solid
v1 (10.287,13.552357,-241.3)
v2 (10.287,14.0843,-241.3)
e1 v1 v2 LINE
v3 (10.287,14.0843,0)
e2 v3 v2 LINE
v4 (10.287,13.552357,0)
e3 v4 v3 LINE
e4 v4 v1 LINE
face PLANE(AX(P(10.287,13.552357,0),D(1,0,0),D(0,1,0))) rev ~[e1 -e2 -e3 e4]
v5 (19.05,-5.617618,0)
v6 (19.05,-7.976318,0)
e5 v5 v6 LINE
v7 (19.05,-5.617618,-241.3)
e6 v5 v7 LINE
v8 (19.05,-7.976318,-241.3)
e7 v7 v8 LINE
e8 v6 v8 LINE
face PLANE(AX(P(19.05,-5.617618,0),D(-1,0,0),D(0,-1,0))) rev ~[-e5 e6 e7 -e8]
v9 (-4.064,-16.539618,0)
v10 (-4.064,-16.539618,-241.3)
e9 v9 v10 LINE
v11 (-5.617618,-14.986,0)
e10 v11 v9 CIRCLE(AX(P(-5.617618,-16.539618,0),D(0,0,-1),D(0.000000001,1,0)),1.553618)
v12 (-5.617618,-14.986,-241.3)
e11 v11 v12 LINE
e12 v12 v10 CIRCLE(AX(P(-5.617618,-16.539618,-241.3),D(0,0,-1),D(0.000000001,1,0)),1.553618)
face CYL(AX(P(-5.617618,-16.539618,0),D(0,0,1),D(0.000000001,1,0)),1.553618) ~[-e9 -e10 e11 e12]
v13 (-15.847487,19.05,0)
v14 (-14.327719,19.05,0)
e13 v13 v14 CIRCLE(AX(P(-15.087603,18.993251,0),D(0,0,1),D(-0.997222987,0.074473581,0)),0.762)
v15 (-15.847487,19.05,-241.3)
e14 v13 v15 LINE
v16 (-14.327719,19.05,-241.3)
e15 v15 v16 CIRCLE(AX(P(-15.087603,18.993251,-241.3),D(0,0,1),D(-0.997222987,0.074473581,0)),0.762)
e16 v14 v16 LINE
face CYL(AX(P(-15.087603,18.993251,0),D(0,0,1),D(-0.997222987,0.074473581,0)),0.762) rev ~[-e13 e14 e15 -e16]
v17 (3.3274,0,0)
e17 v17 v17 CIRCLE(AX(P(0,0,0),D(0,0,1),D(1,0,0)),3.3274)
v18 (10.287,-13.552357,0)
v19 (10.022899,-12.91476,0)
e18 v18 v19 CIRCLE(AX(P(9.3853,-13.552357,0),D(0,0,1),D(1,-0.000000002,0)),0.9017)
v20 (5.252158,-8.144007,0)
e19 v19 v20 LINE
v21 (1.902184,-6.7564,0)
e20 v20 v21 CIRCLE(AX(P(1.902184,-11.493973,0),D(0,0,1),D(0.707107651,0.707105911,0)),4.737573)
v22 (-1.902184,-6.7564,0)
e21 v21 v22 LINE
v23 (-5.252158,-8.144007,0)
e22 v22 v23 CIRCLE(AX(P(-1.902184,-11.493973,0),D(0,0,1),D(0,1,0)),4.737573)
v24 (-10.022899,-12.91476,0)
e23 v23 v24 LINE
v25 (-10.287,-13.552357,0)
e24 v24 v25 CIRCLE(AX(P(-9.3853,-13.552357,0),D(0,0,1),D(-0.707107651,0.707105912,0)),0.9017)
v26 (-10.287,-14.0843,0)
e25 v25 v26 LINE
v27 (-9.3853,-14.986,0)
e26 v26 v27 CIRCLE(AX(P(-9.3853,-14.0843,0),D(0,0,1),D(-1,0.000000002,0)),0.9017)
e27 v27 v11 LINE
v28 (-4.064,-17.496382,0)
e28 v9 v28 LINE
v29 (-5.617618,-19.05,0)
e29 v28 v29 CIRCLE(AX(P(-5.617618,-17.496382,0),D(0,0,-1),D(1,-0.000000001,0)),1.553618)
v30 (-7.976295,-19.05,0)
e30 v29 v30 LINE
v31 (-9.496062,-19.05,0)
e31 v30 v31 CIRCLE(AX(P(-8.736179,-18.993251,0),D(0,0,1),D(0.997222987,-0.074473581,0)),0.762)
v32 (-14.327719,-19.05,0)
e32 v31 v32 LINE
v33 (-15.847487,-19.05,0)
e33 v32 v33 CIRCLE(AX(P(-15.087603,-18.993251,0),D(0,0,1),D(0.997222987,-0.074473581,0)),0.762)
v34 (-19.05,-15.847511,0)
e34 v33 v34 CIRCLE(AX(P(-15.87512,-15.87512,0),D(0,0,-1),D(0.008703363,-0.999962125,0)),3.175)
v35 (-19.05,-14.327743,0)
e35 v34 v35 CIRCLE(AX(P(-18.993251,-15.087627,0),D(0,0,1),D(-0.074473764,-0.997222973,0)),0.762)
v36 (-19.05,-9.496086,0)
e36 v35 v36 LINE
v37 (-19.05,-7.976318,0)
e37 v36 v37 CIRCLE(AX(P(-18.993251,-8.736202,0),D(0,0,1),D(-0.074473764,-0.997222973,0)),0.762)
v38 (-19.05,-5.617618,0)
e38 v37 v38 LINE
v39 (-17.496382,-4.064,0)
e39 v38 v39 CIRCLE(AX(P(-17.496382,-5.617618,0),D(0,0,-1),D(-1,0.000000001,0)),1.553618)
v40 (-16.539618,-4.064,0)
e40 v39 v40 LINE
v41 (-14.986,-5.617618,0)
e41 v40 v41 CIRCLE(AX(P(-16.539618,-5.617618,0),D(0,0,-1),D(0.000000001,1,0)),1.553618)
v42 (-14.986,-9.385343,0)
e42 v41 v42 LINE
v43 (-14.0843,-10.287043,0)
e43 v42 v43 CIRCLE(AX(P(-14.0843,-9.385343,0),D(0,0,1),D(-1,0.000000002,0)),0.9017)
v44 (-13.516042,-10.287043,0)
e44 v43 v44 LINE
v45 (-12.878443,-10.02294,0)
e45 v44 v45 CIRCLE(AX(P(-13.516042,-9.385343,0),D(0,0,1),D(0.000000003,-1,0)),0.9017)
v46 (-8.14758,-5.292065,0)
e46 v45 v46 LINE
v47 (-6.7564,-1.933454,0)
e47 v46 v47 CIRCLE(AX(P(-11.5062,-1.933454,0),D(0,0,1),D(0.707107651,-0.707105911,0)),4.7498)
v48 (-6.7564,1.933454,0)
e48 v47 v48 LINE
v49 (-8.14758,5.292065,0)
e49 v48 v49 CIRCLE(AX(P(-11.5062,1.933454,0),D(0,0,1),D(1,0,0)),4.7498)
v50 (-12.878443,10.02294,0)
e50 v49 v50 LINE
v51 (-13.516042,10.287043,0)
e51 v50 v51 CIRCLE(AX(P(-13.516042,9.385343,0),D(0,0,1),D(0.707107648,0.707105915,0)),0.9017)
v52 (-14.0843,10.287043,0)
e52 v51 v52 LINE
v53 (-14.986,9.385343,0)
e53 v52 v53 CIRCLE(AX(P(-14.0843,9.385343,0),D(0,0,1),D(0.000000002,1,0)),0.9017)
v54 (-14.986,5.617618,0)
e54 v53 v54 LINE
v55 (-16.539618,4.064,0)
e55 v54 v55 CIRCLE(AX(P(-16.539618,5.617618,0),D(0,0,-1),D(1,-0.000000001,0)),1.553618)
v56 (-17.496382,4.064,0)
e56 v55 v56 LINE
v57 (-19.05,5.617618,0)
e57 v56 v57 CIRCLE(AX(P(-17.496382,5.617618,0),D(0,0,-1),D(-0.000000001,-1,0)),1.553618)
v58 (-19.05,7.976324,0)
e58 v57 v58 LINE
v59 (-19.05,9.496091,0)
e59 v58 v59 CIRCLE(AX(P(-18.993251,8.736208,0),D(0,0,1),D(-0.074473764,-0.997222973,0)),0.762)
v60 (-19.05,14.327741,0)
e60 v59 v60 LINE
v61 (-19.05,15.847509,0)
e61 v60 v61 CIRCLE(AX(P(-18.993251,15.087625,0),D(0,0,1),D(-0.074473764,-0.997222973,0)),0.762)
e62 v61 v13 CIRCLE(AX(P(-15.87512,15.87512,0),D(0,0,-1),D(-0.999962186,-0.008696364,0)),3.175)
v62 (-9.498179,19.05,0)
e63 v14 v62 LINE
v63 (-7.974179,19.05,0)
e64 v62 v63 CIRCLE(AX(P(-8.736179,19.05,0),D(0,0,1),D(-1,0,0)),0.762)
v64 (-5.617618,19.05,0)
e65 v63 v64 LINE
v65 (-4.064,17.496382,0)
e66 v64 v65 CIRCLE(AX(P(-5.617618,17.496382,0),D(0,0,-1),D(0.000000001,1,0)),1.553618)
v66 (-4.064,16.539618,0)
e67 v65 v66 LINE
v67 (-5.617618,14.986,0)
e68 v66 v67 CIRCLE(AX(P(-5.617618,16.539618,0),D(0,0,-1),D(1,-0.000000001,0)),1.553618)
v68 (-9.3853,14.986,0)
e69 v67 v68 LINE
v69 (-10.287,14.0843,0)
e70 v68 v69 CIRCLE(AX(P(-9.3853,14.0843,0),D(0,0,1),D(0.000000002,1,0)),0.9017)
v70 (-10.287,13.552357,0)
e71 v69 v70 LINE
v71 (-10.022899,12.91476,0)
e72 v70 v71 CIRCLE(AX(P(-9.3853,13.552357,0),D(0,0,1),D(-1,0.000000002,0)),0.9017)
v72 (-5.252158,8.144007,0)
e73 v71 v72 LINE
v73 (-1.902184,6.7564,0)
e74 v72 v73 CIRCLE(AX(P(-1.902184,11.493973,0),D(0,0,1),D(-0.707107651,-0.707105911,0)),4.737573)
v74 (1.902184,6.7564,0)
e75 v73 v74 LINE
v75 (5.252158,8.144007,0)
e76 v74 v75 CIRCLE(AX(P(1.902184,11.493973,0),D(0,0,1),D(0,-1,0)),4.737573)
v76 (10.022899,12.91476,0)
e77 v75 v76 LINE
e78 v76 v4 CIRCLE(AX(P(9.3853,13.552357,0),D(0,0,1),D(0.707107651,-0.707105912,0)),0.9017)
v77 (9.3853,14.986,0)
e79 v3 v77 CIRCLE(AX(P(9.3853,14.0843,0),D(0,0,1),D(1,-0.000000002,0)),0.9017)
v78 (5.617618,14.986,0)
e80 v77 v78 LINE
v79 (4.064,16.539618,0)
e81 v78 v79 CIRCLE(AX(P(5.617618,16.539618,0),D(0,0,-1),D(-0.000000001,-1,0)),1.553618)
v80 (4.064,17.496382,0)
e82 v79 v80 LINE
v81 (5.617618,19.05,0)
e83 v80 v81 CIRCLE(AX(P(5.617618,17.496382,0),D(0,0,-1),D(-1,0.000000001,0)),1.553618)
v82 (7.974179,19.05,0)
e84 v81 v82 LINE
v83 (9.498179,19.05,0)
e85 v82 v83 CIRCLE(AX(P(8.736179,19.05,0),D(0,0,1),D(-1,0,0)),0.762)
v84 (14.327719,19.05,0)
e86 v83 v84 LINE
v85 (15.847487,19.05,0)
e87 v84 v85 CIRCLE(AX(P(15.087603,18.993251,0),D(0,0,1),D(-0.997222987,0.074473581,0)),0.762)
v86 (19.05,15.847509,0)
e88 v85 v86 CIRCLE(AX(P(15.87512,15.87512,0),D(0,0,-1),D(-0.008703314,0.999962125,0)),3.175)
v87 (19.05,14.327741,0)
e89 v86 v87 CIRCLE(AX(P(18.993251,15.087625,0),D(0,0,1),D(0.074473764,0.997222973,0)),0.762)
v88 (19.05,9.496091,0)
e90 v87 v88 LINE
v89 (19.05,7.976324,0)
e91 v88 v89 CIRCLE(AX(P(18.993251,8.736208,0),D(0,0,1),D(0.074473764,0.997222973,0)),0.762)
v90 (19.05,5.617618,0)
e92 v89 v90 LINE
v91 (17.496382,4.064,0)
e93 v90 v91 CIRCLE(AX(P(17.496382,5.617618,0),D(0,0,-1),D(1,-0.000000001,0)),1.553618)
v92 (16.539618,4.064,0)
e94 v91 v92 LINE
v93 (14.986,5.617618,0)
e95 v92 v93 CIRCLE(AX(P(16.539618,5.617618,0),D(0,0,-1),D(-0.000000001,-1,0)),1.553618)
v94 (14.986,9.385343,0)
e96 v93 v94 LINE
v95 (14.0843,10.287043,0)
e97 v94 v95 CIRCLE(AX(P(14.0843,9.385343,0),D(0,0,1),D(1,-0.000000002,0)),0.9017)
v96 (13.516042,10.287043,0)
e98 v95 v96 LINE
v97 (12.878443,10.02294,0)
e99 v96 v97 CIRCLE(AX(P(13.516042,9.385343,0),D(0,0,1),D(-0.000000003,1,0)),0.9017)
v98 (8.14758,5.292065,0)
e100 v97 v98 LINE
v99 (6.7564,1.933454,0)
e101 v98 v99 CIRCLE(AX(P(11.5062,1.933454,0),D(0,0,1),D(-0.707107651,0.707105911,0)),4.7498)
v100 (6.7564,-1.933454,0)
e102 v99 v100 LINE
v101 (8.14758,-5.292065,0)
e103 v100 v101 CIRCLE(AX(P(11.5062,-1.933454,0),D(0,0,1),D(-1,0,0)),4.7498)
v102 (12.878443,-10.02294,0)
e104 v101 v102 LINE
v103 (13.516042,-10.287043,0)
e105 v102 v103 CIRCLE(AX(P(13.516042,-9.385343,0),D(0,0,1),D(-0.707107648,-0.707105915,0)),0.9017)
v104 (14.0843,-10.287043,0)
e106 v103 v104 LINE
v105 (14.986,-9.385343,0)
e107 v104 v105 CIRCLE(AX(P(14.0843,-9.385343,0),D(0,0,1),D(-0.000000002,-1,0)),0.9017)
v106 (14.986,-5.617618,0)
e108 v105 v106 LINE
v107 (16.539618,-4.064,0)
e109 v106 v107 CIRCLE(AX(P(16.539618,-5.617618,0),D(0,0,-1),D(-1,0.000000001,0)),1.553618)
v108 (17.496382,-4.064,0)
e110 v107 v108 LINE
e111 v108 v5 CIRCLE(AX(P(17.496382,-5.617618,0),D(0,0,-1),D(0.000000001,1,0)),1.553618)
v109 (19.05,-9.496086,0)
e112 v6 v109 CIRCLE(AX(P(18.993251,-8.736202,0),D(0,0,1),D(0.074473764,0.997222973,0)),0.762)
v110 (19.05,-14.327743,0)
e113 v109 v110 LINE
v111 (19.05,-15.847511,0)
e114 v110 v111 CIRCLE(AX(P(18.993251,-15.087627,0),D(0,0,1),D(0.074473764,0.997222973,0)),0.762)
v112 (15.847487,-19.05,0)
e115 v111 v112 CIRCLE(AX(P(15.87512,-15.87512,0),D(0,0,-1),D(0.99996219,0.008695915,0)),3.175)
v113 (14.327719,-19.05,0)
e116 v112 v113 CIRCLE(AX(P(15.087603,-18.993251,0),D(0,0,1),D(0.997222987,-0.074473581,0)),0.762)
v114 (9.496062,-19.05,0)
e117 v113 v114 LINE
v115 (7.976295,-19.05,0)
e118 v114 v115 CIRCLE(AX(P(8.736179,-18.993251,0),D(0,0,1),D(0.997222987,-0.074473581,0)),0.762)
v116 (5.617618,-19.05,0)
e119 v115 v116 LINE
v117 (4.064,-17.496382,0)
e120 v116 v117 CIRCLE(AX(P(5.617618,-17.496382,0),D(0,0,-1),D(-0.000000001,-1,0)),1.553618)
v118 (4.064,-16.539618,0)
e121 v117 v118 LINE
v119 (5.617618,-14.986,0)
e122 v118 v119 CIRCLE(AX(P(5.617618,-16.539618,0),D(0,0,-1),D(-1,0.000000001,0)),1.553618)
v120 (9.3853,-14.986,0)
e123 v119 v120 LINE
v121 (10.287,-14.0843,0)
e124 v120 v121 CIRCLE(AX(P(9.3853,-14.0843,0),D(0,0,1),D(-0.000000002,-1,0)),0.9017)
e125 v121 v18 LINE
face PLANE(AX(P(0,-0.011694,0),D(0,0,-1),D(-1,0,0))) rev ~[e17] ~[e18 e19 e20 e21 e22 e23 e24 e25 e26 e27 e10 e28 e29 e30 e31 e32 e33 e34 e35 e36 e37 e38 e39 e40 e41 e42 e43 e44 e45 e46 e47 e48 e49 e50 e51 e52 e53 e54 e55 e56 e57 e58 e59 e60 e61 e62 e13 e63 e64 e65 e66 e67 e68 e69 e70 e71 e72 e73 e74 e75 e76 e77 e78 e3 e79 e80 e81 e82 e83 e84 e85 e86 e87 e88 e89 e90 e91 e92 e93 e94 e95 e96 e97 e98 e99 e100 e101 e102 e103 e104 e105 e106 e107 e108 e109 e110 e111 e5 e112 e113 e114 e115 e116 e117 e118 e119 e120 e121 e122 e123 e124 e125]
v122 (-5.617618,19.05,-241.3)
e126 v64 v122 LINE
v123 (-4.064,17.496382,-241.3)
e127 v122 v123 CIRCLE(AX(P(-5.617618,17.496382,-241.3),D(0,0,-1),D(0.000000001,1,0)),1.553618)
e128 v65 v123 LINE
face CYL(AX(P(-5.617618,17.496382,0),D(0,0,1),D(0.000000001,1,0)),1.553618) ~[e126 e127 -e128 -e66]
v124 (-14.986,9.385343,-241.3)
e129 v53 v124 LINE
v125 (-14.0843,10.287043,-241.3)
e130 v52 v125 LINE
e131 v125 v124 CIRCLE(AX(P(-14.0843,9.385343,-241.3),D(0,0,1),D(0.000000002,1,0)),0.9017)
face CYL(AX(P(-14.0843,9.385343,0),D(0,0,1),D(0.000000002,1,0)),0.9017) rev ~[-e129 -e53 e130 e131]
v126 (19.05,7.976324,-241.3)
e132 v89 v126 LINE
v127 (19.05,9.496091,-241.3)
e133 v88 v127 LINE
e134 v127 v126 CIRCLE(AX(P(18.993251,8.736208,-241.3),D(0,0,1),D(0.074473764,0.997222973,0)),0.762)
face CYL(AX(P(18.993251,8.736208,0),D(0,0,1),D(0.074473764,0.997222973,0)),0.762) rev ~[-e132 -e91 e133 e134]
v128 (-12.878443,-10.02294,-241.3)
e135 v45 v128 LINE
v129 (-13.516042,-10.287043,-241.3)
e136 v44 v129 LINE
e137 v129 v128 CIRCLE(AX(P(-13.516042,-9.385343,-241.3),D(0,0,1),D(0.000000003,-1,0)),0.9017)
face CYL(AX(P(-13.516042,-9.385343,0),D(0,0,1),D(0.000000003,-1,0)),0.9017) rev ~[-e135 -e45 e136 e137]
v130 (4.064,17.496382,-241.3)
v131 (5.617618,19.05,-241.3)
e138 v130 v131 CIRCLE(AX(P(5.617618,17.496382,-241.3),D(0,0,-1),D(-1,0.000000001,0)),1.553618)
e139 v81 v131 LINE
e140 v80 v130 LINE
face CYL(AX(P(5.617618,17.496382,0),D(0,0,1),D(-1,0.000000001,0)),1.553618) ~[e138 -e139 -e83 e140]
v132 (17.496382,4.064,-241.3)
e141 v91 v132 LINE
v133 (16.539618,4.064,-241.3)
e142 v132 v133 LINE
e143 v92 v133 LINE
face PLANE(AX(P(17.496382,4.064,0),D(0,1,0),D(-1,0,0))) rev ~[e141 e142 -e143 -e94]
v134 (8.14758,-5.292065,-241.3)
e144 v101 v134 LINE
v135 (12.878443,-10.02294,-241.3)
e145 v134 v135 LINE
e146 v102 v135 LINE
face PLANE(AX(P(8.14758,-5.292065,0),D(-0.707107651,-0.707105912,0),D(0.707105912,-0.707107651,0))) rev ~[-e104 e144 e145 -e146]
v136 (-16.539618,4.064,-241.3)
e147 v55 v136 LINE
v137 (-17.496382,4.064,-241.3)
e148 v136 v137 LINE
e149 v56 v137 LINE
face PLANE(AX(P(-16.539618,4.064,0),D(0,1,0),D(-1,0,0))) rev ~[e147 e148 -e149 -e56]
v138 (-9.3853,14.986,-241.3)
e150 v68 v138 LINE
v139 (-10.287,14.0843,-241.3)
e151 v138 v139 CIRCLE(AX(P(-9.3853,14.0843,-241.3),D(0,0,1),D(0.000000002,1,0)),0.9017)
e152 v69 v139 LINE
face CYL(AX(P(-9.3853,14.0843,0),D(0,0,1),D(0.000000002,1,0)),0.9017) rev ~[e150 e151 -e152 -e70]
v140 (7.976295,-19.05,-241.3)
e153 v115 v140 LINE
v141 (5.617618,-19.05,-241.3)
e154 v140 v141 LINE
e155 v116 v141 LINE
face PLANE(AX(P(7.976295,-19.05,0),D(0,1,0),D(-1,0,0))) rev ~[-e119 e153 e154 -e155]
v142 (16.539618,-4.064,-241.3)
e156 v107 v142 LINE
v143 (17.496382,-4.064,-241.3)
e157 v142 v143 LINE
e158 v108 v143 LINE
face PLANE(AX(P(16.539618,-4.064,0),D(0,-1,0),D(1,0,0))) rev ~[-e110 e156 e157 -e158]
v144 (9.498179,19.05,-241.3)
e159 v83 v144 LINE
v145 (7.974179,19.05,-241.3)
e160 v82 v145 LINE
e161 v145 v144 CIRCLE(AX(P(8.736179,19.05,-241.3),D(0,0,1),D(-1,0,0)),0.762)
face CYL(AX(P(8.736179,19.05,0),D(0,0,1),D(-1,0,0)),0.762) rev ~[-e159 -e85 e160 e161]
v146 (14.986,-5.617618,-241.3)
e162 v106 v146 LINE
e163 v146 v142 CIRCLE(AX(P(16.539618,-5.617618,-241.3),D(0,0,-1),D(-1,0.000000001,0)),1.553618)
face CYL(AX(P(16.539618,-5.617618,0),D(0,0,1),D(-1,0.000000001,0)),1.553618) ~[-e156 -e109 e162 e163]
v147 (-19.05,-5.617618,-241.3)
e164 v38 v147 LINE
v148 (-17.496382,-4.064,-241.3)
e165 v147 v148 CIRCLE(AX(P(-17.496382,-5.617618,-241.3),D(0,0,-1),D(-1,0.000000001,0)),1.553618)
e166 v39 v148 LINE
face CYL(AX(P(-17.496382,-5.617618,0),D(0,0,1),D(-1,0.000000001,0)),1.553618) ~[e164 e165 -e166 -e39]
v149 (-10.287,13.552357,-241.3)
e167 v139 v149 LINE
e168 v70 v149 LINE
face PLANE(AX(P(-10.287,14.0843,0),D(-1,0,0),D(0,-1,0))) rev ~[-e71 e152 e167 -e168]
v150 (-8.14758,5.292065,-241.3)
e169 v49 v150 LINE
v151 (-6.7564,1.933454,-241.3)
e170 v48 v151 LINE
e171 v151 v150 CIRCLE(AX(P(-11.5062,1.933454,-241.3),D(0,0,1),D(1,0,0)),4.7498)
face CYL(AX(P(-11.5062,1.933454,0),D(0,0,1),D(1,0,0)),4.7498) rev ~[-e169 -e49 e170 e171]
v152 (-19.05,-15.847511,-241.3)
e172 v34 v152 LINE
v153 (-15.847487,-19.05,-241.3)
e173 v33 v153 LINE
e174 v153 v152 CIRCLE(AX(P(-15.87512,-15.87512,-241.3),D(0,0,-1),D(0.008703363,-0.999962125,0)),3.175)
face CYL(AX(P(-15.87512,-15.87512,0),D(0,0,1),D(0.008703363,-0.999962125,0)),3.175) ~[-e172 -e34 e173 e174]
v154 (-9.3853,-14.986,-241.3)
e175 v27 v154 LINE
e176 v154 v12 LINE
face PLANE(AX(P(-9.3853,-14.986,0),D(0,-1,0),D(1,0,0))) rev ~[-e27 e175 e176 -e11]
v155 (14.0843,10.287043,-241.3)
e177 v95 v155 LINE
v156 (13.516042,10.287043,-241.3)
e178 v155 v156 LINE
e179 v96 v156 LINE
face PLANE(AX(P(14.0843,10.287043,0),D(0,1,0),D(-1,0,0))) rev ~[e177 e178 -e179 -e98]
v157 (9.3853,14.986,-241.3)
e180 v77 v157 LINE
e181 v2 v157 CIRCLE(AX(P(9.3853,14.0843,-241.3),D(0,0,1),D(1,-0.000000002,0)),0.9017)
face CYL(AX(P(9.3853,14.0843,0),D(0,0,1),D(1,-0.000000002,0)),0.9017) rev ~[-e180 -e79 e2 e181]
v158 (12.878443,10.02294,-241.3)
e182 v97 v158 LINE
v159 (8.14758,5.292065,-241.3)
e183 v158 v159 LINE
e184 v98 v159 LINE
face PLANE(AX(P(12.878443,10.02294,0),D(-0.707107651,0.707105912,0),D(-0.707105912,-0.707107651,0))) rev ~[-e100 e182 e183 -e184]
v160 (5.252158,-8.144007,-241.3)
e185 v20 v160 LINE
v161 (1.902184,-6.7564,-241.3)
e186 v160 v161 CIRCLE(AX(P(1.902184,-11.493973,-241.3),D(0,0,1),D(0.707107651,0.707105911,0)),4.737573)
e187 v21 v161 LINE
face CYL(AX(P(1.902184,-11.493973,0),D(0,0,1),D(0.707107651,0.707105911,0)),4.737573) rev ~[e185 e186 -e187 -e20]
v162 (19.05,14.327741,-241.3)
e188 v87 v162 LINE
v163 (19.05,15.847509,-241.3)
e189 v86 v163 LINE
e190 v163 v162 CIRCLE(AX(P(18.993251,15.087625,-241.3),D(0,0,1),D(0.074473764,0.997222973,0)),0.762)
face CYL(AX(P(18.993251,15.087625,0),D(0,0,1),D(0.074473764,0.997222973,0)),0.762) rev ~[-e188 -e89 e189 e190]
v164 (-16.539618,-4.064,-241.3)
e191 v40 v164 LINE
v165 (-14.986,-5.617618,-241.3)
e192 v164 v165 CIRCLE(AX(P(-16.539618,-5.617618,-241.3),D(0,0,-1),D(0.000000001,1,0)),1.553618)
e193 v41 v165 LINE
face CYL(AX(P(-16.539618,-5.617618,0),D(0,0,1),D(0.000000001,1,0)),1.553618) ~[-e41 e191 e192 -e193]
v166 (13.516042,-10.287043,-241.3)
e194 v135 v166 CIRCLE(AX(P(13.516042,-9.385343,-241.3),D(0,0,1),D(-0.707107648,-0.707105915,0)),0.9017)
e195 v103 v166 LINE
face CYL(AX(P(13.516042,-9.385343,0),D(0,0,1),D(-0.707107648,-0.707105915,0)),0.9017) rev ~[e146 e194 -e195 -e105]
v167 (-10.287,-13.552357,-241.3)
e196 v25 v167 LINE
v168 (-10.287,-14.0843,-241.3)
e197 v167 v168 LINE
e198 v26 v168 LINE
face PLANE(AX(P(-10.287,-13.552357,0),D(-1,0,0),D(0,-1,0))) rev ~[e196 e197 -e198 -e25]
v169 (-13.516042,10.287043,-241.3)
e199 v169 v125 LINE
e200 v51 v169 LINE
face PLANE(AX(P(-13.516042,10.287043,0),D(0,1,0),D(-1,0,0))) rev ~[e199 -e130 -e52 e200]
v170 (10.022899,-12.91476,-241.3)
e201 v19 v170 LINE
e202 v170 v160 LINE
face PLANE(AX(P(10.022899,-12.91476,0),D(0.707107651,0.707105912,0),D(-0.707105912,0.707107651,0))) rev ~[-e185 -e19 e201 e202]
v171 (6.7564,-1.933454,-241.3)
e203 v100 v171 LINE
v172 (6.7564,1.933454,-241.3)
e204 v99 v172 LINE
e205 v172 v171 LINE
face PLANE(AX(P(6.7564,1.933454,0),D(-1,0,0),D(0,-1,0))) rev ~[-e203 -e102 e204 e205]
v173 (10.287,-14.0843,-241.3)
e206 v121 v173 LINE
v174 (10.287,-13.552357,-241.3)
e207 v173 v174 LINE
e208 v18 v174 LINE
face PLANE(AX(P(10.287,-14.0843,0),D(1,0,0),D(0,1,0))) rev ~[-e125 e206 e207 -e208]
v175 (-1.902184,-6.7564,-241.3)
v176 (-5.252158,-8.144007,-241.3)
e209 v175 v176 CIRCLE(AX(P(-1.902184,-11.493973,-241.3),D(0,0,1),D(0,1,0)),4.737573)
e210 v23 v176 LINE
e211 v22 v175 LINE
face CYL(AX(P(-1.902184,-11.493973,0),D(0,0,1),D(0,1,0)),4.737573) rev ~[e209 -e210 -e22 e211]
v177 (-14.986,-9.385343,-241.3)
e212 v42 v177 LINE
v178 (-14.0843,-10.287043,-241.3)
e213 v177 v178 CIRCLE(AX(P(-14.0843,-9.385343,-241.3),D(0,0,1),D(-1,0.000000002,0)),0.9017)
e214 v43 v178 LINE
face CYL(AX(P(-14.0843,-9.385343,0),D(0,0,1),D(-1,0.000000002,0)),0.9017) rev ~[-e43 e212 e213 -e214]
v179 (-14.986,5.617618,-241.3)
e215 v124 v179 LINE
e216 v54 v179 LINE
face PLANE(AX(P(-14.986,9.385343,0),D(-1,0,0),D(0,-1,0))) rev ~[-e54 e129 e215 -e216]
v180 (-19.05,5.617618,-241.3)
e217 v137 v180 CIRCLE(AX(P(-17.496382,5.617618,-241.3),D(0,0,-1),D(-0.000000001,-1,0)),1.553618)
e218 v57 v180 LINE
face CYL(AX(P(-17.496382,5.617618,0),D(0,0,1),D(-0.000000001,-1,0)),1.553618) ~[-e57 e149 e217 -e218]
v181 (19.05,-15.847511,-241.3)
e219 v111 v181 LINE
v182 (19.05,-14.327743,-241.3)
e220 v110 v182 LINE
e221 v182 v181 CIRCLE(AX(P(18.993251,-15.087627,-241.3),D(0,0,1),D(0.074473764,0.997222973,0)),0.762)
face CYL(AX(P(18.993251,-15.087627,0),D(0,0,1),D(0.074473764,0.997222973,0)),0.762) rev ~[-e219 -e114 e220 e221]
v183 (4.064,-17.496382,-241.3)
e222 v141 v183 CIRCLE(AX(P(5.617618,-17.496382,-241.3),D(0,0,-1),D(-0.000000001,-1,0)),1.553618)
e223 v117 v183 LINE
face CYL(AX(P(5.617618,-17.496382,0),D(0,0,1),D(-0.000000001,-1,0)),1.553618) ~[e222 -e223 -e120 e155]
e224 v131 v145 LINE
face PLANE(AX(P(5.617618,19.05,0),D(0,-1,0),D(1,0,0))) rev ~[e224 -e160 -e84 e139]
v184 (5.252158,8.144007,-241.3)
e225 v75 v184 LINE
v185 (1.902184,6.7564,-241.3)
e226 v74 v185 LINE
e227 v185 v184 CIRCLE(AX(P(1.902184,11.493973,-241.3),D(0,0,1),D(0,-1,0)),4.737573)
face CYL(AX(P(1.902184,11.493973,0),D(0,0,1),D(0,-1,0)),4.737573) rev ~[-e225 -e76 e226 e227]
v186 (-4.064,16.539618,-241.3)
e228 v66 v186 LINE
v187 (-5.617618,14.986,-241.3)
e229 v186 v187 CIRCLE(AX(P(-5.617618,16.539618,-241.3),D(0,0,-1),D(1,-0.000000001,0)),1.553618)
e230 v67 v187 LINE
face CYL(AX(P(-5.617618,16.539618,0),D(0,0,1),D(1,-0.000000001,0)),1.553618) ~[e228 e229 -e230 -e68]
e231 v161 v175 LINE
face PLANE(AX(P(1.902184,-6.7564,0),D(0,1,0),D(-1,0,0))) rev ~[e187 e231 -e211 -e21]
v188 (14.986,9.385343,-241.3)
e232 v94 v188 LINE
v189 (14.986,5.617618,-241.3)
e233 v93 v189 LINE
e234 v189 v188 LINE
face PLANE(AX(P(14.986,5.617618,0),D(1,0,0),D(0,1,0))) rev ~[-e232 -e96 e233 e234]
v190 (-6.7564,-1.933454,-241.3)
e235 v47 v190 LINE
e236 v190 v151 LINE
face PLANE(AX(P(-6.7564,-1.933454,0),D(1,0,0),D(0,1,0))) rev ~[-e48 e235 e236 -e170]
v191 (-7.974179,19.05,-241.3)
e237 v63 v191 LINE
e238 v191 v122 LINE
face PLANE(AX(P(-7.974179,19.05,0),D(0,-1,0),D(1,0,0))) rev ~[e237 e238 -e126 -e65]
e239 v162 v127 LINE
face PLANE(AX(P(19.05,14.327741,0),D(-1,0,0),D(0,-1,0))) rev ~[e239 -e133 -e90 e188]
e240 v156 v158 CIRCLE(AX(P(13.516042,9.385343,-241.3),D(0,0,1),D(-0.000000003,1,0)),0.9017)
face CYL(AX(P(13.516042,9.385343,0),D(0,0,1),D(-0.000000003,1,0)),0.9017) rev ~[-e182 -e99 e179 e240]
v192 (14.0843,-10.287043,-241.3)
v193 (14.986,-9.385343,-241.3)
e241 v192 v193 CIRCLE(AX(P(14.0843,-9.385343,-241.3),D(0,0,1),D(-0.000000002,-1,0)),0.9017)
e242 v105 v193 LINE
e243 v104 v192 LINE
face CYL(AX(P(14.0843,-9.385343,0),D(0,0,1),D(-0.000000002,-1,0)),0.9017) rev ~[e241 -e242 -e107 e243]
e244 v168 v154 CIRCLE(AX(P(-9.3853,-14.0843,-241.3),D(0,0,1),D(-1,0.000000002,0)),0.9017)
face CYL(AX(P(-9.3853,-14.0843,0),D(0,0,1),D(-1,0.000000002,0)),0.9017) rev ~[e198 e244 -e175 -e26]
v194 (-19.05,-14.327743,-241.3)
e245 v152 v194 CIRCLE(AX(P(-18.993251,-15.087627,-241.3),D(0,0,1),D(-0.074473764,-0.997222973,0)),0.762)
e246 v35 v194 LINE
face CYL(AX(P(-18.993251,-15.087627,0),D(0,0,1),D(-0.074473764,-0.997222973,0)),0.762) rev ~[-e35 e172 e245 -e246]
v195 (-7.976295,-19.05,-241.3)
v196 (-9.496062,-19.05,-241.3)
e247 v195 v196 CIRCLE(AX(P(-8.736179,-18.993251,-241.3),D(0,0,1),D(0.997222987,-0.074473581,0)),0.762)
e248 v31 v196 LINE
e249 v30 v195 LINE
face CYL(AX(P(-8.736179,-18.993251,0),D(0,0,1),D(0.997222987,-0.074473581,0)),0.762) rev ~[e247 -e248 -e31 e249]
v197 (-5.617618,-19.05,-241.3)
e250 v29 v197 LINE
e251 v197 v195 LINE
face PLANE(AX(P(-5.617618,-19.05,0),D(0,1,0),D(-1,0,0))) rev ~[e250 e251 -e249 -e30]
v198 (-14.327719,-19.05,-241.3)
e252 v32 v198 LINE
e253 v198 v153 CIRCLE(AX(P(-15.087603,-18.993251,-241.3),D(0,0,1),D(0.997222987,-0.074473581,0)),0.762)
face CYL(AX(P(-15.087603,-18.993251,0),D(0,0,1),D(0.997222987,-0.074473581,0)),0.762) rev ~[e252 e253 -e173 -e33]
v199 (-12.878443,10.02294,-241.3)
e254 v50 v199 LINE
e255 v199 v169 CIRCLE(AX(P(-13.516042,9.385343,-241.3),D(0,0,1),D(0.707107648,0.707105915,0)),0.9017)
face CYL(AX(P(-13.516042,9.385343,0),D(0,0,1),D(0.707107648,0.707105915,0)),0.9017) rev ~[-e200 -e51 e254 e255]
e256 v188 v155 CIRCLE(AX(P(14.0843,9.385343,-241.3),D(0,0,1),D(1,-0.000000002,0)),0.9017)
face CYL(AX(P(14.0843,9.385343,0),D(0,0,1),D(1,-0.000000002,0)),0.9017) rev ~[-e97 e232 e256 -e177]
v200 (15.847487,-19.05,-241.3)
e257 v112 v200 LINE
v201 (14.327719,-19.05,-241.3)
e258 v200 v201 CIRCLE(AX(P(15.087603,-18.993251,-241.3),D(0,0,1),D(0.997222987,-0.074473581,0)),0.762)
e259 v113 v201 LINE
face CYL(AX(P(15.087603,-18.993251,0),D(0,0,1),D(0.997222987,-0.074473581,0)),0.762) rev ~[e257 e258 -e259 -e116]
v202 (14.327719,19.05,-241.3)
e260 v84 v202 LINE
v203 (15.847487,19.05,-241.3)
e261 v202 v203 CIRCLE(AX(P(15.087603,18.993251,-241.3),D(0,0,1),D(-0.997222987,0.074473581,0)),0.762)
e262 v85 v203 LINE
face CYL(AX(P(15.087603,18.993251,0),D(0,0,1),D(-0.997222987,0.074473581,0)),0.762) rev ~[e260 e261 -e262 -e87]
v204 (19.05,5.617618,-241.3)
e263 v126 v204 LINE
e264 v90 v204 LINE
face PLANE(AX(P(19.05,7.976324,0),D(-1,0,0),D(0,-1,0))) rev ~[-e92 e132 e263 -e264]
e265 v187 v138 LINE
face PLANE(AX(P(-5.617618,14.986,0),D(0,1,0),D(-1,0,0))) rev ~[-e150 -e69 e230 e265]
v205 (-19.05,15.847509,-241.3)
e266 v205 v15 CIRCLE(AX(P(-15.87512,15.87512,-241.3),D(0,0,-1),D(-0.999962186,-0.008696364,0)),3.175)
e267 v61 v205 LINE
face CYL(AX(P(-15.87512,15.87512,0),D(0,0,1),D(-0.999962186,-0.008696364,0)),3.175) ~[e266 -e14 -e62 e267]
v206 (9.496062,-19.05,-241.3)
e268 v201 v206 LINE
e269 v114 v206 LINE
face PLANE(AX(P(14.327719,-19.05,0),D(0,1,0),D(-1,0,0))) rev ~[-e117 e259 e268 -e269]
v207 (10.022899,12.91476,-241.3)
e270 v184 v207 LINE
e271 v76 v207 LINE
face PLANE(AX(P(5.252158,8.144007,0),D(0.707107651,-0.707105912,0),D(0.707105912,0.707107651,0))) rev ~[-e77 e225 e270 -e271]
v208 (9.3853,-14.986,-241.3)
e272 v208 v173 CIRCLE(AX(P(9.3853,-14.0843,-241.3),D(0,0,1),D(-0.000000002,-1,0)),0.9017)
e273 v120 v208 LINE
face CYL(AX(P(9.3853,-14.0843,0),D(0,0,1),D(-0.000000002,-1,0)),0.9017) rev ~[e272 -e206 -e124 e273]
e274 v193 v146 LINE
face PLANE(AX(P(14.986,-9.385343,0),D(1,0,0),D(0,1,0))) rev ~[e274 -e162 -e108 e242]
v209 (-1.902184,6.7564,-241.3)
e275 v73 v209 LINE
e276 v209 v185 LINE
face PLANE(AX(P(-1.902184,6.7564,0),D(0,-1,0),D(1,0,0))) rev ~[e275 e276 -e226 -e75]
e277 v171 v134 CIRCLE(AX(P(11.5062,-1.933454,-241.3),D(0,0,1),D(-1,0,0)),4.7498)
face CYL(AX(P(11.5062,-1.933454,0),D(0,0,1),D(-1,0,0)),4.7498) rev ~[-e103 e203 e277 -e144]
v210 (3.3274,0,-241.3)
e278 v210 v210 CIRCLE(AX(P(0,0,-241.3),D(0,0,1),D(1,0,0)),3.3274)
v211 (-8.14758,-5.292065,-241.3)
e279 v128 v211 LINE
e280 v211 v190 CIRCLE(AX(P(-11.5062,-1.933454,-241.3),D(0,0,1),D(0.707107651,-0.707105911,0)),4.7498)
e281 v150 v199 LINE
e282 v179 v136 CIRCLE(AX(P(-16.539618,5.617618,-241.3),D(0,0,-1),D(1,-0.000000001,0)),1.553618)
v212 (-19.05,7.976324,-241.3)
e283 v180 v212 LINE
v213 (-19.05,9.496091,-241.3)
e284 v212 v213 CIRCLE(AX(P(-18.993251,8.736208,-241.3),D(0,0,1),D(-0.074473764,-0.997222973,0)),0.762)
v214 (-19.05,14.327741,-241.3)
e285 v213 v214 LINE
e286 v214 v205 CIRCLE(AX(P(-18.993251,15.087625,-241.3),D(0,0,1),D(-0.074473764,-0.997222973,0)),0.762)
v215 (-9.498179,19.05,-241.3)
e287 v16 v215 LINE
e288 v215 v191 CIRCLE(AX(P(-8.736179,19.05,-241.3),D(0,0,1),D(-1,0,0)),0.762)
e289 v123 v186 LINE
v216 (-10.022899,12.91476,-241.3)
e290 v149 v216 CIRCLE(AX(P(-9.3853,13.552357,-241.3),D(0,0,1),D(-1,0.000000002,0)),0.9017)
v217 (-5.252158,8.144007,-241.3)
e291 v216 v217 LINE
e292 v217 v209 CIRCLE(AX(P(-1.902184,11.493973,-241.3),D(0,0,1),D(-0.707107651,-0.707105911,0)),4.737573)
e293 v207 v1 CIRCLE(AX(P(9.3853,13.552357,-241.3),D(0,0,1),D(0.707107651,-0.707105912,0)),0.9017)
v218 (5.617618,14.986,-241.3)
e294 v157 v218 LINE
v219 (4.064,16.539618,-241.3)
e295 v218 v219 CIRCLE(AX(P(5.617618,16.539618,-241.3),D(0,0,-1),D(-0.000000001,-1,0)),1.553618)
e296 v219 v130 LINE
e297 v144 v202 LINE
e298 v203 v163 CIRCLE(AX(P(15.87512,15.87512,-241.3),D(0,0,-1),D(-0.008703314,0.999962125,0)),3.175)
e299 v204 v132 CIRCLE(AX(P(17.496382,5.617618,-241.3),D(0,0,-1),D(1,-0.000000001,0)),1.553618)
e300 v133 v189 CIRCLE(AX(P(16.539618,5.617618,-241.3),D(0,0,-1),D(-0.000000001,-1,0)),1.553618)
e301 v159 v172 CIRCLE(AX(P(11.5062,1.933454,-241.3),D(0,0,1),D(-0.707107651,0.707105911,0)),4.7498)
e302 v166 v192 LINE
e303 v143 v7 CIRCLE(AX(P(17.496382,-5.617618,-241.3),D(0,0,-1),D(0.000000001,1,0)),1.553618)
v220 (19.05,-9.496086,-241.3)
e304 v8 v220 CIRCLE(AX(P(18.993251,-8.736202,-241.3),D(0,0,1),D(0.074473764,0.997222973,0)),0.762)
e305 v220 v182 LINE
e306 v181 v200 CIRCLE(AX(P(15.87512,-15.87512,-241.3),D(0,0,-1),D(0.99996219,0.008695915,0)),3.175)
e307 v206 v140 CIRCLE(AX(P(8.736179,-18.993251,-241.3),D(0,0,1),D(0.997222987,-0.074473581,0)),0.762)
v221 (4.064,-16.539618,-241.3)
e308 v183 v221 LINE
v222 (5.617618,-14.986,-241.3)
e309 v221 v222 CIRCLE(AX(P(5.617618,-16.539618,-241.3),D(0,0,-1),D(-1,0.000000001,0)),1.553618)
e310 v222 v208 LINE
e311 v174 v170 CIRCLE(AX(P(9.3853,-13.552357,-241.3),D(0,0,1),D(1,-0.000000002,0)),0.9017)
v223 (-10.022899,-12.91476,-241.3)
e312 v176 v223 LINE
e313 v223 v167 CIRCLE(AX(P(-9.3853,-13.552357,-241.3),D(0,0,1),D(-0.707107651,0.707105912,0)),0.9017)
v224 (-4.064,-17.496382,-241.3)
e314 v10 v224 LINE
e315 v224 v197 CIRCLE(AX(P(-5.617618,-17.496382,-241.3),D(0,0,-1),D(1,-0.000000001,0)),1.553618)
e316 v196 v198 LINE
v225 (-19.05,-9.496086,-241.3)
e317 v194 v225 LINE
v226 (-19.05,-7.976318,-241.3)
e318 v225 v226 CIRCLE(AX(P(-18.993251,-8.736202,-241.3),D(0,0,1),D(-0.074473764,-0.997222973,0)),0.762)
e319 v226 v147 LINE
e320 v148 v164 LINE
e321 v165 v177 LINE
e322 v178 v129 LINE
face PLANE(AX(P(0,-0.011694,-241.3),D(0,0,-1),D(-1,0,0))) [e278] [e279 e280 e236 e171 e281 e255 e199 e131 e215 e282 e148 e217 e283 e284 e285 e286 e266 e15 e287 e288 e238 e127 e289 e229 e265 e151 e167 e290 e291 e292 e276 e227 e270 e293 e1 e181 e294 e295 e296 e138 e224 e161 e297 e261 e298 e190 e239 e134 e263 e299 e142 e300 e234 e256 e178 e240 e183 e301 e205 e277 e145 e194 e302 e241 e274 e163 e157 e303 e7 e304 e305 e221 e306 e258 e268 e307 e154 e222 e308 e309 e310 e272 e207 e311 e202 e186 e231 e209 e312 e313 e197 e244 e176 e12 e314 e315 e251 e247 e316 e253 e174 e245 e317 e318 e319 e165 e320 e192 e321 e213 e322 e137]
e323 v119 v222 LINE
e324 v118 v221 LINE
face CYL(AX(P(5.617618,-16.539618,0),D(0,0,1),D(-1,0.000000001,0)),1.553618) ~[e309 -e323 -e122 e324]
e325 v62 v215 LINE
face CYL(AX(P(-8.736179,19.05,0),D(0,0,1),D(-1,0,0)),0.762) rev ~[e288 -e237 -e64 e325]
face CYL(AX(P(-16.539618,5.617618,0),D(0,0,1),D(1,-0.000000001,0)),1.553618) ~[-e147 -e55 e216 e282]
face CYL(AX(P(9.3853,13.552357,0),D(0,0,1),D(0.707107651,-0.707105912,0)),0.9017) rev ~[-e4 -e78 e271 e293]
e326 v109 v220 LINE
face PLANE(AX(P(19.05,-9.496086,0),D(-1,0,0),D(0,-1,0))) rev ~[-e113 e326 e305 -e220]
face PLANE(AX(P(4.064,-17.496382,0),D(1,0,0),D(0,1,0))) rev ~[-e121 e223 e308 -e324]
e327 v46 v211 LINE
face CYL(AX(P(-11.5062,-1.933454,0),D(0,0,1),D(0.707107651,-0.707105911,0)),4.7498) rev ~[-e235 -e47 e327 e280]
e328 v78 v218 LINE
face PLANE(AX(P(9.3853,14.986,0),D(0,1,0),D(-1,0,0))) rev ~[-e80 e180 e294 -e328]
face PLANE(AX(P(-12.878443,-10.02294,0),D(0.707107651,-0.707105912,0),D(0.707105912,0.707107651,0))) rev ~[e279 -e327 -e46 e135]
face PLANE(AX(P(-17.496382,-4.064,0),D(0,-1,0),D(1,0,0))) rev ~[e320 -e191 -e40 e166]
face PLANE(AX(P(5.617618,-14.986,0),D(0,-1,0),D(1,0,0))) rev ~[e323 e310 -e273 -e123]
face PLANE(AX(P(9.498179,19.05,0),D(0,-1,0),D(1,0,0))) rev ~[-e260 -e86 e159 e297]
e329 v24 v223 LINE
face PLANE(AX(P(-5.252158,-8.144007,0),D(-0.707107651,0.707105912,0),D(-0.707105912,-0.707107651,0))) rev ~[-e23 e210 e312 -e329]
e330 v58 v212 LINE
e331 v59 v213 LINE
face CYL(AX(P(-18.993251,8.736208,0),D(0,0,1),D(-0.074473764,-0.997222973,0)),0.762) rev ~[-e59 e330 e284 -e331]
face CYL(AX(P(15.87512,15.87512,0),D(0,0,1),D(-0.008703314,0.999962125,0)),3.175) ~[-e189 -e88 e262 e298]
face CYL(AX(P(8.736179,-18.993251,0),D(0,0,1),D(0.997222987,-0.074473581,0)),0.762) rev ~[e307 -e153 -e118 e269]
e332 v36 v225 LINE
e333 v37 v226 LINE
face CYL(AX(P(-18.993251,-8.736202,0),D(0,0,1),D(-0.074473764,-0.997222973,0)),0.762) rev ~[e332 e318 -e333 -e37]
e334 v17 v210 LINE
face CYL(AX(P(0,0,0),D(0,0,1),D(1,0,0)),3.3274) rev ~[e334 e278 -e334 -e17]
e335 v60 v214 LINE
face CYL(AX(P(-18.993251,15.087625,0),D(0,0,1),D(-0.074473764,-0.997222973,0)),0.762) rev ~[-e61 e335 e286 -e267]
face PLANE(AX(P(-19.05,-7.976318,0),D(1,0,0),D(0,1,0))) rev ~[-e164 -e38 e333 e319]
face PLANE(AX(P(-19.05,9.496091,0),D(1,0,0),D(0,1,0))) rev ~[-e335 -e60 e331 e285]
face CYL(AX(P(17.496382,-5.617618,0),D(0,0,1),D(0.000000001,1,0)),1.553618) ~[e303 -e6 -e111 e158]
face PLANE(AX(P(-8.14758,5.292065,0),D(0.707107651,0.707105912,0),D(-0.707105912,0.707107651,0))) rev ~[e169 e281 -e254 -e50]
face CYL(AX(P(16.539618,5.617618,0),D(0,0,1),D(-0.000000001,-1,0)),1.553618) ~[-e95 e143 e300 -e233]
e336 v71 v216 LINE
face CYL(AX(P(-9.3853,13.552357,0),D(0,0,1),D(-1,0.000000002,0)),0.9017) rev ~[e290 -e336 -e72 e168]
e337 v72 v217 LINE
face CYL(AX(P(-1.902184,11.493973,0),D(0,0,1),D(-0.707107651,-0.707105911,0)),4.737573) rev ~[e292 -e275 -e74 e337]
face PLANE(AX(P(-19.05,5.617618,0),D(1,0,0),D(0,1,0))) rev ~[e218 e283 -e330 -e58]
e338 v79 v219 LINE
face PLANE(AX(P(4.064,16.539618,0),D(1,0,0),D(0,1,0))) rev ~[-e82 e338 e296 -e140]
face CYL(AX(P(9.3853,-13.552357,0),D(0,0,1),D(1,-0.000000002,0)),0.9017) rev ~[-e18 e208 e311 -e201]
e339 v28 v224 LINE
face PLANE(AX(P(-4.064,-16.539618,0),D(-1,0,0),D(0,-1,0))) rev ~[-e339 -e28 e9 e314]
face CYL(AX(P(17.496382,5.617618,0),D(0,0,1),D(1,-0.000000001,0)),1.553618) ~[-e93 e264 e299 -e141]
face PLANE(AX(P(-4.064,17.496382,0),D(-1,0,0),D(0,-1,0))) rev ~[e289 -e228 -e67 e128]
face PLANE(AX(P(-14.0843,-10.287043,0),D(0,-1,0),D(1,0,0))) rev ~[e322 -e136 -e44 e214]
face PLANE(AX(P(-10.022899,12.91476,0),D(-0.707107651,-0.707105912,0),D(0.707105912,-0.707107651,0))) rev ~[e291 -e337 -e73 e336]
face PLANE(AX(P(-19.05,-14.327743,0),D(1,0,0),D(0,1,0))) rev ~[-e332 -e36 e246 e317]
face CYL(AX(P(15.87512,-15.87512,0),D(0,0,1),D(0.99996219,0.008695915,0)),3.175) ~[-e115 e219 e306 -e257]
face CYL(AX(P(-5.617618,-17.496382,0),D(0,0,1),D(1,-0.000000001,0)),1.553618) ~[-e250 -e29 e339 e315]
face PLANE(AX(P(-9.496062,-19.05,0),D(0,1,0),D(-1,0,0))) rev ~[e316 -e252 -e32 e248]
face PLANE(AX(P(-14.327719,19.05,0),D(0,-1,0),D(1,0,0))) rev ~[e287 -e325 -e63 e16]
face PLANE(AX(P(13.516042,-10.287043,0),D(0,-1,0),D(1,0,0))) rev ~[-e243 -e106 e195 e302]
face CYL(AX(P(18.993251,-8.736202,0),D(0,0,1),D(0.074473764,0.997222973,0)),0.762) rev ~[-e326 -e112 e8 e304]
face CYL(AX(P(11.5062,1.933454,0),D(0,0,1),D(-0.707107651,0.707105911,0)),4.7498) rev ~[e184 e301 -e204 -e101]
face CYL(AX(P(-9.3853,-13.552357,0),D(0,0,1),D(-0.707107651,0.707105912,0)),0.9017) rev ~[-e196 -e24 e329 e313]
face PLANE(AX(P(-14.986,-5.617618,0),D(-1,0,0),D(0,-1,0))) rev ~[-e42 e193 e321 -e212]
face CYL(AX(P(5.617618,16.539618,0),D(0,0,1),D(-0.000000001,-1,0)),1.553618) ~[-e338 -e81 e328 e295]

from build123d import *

# Parameters (mm, degrees)
SKETCH1_R      = 3.3274
EXTRUDE1_DEPTH = 241.3


with BuildPart() as part:
    # Sketch1 → Extrude1 (new body)
    with BuildSketch(Plane.XY):
        with BuildLine():
            Line((-10.022898969, 12.91475973), (-5.252158105, 8.144007132))
            ThreePointArc((-5.252158105, 8.144007132), (-3.715177372, 7.117027388), (-1.902183975, 6.7564))
            Line((-1.902183975, 6.7564), (1.902183975, 6.7564))
            ThreePointArc((1.902183975, 6.7564), (3.715177372, 7.117027388), (5.252158105, 8.144007132))
            Line((5.252158105, 8.144007132), (10.022898969, 12.91475973))
            ThreePointArc((10.022898969, 12.91475973), (10.218362387, 13.207291992), (10.287, 13.552357131))
            Line((10.287, 13.552357131), (10.287, 14.0843))
            ThreePointArc((10.287, 14.0843), (10.022898185, 14.721898185), (9.3853, 14.986))
            Line((9.3853, 14.986), (5.617617549, 14.986))
            ThreePointArc((5.617617549, 14.986), (4.519044045, 15.441044045), (4.064, 16.539617549))
            Line((4.064, 16.539617549), (4.064, 17.496382451))
            ThreePointArc((4.064, 17.496382451), (4.519044045, 18.594955955), (5.617617549, 19.05))
            Line((5.617617549, 19.05), (7.974178704, 19.05))
            ThreePointArc((7.974178704, 19.05), (8.736178704, 18.288), (9.498178704, 19.05))
            Line((9.498178704, 19.05), (14.327719207, 19.05))
            ThreePointArc((14.327719207, 19.05), (15.087603123, 18.231251131), (15.847487039, 19.05))
            ThreePointArc((15.847487039, 19.05), (18.120176289, 18.120192083), (19.05, 15.847509295))
            ThreePointArc((19.05, 15.847509295), (18.231250992, 15.08762539), (19.05, 14.327741484))
            Line((19.05, 14.327741484), (19.05, 9.496091471))
            ThreePointArc((19.05, 9.496091471), (18.231250992, 8.736207565), (19.05, 7.97632366))
            Line((19.05, 7.97632366), (19.05, 5.617617549))
            ThreePointArc((19.05, 5.617617549), (18.594955955, 4.519044045), (17.496382451, 4.064))
            Line((17.496382451, 4.064), (16.539617549, 4.064))
            ThreePointArc((16.539617549, 4.064), (15.441044045, 4.519044045), (14.986, 5.617617549))
            Line((14.986, 5.617617549), (14.986, 9.385342516))
            ThreePointArc((14.986, 9.385342516), (14.721898185, 10.022940701), (14.0843, 10.287042516))
            Line((14.0843, 10.287042516), (13.516042086, 10.287042516))
            ThreePointArc((13.516042086, 10.287042516), (13.170975923, 10.218404478), (12.878443117, 10.022939917))
            Line((12.878443117, 10.022939917), (8.14758008, 5.292065243))
            ThreePointArc((8.14758008, 5.292065243), (7.117955879, 3.751120653), (6.7564, 1.933453584))
            Line((6.7564, 1.933453584), (6.7564, -1.933453584))
            ThreePointArc((6.7564, -1.933453584), (7.117955879, -3.751120653), (8.14758008, -5.292065243))
            Line((8.14758008, -5.292065243), (12.878443117, -10.022939917))
            ThreePointArc((12.878443117, -10.022939917), (13.170975923, -10.218404478), (13.516042086, -10.287042516))
            Line((13.516042086, -10.287042516), (14.0843, -10.287042516))
            ThreePointArc((14.0843, -10.287042516), (14.721898185, -10.022940701), (14.986, -9.385342516))
            Line((14.986, -9.385342516), (14.986, -5.617617549))
            ThreePointArc((14.986, -5.617617549), (15.441044045, -4.519044045), (16.539617549, -4.064))
            Line((16.539617549, -4.064), (17.496382451, -4.064))
            ThreePointArc((17.496382451, -4.064), (18.594955955, -4.519044045), (19.05, -5.617617549))
            Line((19.05, -5.617617549), (19.05, -7.976318491))
            ThreePointArc((19.05, -7.976318491), (18.231250992, -8.736202396), (19.05, -9.496086302))
            Line((19.05, -9.496086302), (19.05, -14.32774291))
            ThreePointArc((19.05, -14.32774291), (18.231250992, -15.087626816), (19.05, -15.847510721))
            ThreePointArc((19.05, -15.847510721), (18.120175716, -18.120192644), (15.847486868, -19.05))
            ThreePointArc((15.847486868, -19.05), (15.087602952, -18.231251131), (14.327719036, -19.05))
            Line((14.327719036, -19.05), (9.496062448, -19.05))
            ThreePointArc((9.496062448, -19.05), (8.736178532, -18.231251131), (7.976294616, -19.05))
            Line((7.976294616, -19.05), (5.617617549, -19.05))
            ThreePointArc((5.617617549, -19.05), (4.519044045, -18.594955955), (4.064, -17.496382451))
            Line((4.064, -17.496382451), (4.064, -16.539617549))
            ThreePointArc((4.064, -16.539617549), (4.519044045, -15.441044045), (5.617617549, -14.986))
            Line((5.617617549, -14.986), (9.3853, -14.986))
            ThreePointArc((9.3853, -14.986), (10.022898185, -14.721898185), (10.287, -14.0843))
            Line((10.287, -14.0843), (10.287, -13.552357131))
            ThreePointArc((10.287, -13.552357131), (10.218362387, -13.207291992), (10.022898969, -12.91475973))
            Line((10.022898969, -12.91475973), (5.252158105, -8.144007132))
            ThreePointArc((5.252158105, -8.144007132), (3.715177372, -7.117027388), (1.902183975, -6.7564))
            Line((1.902183975, -6.7564), (-1.902183975, -6.7564))
            ThreePointArc((-1.902183975, -6.7564), (-3.715177372, -7.117027388), (-5.252158105, -8.144007132))
            Line((-5.252158105, -8.144007132), (-10.022898969, -12.91475973))
            ThreePointArc((-10.022898969, -12.91475973), (-10.218362387, -13.207291992), (-10.287, -13.552357131))
            Line((-10.287, -13.552357131), (-10.287, -14.0843))
            ThreePointArc((-10.287, -14.0843), (-10.022898185, -14.721898185), (-9.3853, -14.986))
            Line((-9.3853, -14.986), (-5.617617549, -14.986))
            ThreePointArc((-5.617617549, -14.986), (-4.519044045, -15.441044045), (-4.064, -16.539617549))
            Line((-4.064, -16.539617549), (-4.064, -17.496382451))
            ThreePointArc((-4.064, -17.496382451), (-4.519044045, -18.594955955), (-5.617617549, -19.05))
            Line((-5.617617549, -19.05), (-7.976294616, -19.05))
            ThreePointArc((-7.976294616, -19.05), (-8.736178532, -18.231251131), (-9.496062448, -19.05))
            Line((-9.496062448, -19.05), (-14.327719036, -19.05))
            ThreePointArc((-14.327719036, -19.05), (-15.087602952, -18.231251131), (-15.847486868, -19.05))
            ThreePointArc((-15.847486868, -19.05), (-18.120175716, -18.120192644), (-19.05, -15.847510721))
            ThreePointArc((-19.05, -15.847510721), (-18.231250992, -15.087626816), (-19.05, -14.32774291))
            Line((-19.05, -14.32774291), (-19.05, -9.496086302))
            ThreePointArc((-19.05, -9.496086302), (-18.231250992, -8.736202396), (-19.05, -7.976318491))
            Line((-19.05, -7.976318491), (-19.05, -5.617617549))
            ThreePointArc((-19.05, -5.617617549), (-18.594955955, -4.519044045), (-17.496382451, -4.064))
            Line((-17.496382451, -4.064), (-16.539617549, -4.064))
            ThreePointArc((-16.539617549, -4.064), (-15.441044045, -4.519044045), (-14.986, -5.617617549))
            Line((-14.986, -5.617617549), (-14.986, -9.385342516))
            ThreePointArc((-14.986, -9.385342516), (-14.721898185, -10.022940701), (-14.0843, -10.287042516))
            Line((-14.0843, -10.287042516), (-13.516042086, -10.287042516))
            ThreePointArc((-13.516042086, -10.287042516), (-13.170975923, -10.218404478), (-12.878443117, -10.022939917))
            Line((-12.878443117, -10.022939917), (-8.14758008, -5.292065243))
            ThreePointArc((-8.14758008, -5.292065243), (-7.117955879, -3.751120653), (-6.7564, -1.933453584))
            Line((-6.7564, -1.933453584), (-6.7564, 1.933453584))
            ThreePointArc((-6.7564, 1.933453584), (-7.117955879, 3.751120653), (-8.14758008, 5.292065243))
            Line((-8.14758008, 5.292065243), (-12.878443117, 10.022939917))
            ThreePointArc((-12.878443117, 10.022939917), (-13.170975923, 10.218404478), (-13.516042086, 10.287042516))
            Line((-13.516042086, 10.287042516), (-14.0843, 10.287042516))
            ThreePointArc((-14.0843, 10.287042516), (-14.721898185, 10.022940701), (-14.986, 9.385342516))
            Line((-14.986, 9.385342516), (-14.986, 5.617617549))
            ThreePointArc((-14.986, 5.617617549), (-15.441044045, 4.519044045), (-16.539617549, 4.064))
            Line((-16.539617549, 4.064), (-17.496382451, 4.064))
            ThreePointArc((-17.496382451, 4.064), (-18.594955955, 4.519044045), (-19.05, 5.617617549))
            Line((-19.05, 5.617617549), (-19.05, 7.97632366))
            ThreePointArc((-19.05, 7.97632366), (-18.231250992, 8.736207565), (-19.05, 9.496091471))
            Line((-19.05, 9.496091471), (-19.05, 14.327741484))
            ThreePointArc((-19.05, 14.327741484), (-18.231250992, 15.08762539), (-19.05, 15.847509295))
            ThreePointArc((-19.05, 15.847509295), (-18.120176289, 18.120192083), (-15.847487039, 19.05))
            ThreePointArc((-15.847487039, 19.05), (-15.087603123, 18.231251131), (-14.327719207, 19.05))
            Line((-14.327719207, 19.05), (-9.498178704, 19.05))
            ThreePointArc((-9.498178704, 19.05), (-8.736178704, 18.288), (-7.974178704, 19.05))
            Line((-7.974178704, 19.05), (-5.617617549, 19.05))
            ThreePointArc((-5.617617549, 19.05), (-4.519044045, 18.594955955), (-4.064, 17.496382451))
            Line((-4.064, 17.496382451), (-4.064, 16.539617549))
            ThreePointArc((-4.064, 16.539617549), (-4.519044045, 15.441044045), (-5.617617549, 14.986))
            Line((-5.617617549, 14.986), (-9.3853, 14.986))
            ThreePointArc((-9.3853, 14.986), (-10.022898185, 14.721898185), (-10.287, 14.0843))
            Line((-10.287, 14.0843), (-10.287, 13.552357131))
            ThreePointArc((-10.287, 13.552357131), (-10.218362387, 13.207291992), (-10.022898969, 12.91475973))
        make_face()
        Circle(SKETCH1_R, mode=Mode.SUBTRACT)
    extrude(amount=-EXTRUDE1_DEPTH)


solid = part.part
